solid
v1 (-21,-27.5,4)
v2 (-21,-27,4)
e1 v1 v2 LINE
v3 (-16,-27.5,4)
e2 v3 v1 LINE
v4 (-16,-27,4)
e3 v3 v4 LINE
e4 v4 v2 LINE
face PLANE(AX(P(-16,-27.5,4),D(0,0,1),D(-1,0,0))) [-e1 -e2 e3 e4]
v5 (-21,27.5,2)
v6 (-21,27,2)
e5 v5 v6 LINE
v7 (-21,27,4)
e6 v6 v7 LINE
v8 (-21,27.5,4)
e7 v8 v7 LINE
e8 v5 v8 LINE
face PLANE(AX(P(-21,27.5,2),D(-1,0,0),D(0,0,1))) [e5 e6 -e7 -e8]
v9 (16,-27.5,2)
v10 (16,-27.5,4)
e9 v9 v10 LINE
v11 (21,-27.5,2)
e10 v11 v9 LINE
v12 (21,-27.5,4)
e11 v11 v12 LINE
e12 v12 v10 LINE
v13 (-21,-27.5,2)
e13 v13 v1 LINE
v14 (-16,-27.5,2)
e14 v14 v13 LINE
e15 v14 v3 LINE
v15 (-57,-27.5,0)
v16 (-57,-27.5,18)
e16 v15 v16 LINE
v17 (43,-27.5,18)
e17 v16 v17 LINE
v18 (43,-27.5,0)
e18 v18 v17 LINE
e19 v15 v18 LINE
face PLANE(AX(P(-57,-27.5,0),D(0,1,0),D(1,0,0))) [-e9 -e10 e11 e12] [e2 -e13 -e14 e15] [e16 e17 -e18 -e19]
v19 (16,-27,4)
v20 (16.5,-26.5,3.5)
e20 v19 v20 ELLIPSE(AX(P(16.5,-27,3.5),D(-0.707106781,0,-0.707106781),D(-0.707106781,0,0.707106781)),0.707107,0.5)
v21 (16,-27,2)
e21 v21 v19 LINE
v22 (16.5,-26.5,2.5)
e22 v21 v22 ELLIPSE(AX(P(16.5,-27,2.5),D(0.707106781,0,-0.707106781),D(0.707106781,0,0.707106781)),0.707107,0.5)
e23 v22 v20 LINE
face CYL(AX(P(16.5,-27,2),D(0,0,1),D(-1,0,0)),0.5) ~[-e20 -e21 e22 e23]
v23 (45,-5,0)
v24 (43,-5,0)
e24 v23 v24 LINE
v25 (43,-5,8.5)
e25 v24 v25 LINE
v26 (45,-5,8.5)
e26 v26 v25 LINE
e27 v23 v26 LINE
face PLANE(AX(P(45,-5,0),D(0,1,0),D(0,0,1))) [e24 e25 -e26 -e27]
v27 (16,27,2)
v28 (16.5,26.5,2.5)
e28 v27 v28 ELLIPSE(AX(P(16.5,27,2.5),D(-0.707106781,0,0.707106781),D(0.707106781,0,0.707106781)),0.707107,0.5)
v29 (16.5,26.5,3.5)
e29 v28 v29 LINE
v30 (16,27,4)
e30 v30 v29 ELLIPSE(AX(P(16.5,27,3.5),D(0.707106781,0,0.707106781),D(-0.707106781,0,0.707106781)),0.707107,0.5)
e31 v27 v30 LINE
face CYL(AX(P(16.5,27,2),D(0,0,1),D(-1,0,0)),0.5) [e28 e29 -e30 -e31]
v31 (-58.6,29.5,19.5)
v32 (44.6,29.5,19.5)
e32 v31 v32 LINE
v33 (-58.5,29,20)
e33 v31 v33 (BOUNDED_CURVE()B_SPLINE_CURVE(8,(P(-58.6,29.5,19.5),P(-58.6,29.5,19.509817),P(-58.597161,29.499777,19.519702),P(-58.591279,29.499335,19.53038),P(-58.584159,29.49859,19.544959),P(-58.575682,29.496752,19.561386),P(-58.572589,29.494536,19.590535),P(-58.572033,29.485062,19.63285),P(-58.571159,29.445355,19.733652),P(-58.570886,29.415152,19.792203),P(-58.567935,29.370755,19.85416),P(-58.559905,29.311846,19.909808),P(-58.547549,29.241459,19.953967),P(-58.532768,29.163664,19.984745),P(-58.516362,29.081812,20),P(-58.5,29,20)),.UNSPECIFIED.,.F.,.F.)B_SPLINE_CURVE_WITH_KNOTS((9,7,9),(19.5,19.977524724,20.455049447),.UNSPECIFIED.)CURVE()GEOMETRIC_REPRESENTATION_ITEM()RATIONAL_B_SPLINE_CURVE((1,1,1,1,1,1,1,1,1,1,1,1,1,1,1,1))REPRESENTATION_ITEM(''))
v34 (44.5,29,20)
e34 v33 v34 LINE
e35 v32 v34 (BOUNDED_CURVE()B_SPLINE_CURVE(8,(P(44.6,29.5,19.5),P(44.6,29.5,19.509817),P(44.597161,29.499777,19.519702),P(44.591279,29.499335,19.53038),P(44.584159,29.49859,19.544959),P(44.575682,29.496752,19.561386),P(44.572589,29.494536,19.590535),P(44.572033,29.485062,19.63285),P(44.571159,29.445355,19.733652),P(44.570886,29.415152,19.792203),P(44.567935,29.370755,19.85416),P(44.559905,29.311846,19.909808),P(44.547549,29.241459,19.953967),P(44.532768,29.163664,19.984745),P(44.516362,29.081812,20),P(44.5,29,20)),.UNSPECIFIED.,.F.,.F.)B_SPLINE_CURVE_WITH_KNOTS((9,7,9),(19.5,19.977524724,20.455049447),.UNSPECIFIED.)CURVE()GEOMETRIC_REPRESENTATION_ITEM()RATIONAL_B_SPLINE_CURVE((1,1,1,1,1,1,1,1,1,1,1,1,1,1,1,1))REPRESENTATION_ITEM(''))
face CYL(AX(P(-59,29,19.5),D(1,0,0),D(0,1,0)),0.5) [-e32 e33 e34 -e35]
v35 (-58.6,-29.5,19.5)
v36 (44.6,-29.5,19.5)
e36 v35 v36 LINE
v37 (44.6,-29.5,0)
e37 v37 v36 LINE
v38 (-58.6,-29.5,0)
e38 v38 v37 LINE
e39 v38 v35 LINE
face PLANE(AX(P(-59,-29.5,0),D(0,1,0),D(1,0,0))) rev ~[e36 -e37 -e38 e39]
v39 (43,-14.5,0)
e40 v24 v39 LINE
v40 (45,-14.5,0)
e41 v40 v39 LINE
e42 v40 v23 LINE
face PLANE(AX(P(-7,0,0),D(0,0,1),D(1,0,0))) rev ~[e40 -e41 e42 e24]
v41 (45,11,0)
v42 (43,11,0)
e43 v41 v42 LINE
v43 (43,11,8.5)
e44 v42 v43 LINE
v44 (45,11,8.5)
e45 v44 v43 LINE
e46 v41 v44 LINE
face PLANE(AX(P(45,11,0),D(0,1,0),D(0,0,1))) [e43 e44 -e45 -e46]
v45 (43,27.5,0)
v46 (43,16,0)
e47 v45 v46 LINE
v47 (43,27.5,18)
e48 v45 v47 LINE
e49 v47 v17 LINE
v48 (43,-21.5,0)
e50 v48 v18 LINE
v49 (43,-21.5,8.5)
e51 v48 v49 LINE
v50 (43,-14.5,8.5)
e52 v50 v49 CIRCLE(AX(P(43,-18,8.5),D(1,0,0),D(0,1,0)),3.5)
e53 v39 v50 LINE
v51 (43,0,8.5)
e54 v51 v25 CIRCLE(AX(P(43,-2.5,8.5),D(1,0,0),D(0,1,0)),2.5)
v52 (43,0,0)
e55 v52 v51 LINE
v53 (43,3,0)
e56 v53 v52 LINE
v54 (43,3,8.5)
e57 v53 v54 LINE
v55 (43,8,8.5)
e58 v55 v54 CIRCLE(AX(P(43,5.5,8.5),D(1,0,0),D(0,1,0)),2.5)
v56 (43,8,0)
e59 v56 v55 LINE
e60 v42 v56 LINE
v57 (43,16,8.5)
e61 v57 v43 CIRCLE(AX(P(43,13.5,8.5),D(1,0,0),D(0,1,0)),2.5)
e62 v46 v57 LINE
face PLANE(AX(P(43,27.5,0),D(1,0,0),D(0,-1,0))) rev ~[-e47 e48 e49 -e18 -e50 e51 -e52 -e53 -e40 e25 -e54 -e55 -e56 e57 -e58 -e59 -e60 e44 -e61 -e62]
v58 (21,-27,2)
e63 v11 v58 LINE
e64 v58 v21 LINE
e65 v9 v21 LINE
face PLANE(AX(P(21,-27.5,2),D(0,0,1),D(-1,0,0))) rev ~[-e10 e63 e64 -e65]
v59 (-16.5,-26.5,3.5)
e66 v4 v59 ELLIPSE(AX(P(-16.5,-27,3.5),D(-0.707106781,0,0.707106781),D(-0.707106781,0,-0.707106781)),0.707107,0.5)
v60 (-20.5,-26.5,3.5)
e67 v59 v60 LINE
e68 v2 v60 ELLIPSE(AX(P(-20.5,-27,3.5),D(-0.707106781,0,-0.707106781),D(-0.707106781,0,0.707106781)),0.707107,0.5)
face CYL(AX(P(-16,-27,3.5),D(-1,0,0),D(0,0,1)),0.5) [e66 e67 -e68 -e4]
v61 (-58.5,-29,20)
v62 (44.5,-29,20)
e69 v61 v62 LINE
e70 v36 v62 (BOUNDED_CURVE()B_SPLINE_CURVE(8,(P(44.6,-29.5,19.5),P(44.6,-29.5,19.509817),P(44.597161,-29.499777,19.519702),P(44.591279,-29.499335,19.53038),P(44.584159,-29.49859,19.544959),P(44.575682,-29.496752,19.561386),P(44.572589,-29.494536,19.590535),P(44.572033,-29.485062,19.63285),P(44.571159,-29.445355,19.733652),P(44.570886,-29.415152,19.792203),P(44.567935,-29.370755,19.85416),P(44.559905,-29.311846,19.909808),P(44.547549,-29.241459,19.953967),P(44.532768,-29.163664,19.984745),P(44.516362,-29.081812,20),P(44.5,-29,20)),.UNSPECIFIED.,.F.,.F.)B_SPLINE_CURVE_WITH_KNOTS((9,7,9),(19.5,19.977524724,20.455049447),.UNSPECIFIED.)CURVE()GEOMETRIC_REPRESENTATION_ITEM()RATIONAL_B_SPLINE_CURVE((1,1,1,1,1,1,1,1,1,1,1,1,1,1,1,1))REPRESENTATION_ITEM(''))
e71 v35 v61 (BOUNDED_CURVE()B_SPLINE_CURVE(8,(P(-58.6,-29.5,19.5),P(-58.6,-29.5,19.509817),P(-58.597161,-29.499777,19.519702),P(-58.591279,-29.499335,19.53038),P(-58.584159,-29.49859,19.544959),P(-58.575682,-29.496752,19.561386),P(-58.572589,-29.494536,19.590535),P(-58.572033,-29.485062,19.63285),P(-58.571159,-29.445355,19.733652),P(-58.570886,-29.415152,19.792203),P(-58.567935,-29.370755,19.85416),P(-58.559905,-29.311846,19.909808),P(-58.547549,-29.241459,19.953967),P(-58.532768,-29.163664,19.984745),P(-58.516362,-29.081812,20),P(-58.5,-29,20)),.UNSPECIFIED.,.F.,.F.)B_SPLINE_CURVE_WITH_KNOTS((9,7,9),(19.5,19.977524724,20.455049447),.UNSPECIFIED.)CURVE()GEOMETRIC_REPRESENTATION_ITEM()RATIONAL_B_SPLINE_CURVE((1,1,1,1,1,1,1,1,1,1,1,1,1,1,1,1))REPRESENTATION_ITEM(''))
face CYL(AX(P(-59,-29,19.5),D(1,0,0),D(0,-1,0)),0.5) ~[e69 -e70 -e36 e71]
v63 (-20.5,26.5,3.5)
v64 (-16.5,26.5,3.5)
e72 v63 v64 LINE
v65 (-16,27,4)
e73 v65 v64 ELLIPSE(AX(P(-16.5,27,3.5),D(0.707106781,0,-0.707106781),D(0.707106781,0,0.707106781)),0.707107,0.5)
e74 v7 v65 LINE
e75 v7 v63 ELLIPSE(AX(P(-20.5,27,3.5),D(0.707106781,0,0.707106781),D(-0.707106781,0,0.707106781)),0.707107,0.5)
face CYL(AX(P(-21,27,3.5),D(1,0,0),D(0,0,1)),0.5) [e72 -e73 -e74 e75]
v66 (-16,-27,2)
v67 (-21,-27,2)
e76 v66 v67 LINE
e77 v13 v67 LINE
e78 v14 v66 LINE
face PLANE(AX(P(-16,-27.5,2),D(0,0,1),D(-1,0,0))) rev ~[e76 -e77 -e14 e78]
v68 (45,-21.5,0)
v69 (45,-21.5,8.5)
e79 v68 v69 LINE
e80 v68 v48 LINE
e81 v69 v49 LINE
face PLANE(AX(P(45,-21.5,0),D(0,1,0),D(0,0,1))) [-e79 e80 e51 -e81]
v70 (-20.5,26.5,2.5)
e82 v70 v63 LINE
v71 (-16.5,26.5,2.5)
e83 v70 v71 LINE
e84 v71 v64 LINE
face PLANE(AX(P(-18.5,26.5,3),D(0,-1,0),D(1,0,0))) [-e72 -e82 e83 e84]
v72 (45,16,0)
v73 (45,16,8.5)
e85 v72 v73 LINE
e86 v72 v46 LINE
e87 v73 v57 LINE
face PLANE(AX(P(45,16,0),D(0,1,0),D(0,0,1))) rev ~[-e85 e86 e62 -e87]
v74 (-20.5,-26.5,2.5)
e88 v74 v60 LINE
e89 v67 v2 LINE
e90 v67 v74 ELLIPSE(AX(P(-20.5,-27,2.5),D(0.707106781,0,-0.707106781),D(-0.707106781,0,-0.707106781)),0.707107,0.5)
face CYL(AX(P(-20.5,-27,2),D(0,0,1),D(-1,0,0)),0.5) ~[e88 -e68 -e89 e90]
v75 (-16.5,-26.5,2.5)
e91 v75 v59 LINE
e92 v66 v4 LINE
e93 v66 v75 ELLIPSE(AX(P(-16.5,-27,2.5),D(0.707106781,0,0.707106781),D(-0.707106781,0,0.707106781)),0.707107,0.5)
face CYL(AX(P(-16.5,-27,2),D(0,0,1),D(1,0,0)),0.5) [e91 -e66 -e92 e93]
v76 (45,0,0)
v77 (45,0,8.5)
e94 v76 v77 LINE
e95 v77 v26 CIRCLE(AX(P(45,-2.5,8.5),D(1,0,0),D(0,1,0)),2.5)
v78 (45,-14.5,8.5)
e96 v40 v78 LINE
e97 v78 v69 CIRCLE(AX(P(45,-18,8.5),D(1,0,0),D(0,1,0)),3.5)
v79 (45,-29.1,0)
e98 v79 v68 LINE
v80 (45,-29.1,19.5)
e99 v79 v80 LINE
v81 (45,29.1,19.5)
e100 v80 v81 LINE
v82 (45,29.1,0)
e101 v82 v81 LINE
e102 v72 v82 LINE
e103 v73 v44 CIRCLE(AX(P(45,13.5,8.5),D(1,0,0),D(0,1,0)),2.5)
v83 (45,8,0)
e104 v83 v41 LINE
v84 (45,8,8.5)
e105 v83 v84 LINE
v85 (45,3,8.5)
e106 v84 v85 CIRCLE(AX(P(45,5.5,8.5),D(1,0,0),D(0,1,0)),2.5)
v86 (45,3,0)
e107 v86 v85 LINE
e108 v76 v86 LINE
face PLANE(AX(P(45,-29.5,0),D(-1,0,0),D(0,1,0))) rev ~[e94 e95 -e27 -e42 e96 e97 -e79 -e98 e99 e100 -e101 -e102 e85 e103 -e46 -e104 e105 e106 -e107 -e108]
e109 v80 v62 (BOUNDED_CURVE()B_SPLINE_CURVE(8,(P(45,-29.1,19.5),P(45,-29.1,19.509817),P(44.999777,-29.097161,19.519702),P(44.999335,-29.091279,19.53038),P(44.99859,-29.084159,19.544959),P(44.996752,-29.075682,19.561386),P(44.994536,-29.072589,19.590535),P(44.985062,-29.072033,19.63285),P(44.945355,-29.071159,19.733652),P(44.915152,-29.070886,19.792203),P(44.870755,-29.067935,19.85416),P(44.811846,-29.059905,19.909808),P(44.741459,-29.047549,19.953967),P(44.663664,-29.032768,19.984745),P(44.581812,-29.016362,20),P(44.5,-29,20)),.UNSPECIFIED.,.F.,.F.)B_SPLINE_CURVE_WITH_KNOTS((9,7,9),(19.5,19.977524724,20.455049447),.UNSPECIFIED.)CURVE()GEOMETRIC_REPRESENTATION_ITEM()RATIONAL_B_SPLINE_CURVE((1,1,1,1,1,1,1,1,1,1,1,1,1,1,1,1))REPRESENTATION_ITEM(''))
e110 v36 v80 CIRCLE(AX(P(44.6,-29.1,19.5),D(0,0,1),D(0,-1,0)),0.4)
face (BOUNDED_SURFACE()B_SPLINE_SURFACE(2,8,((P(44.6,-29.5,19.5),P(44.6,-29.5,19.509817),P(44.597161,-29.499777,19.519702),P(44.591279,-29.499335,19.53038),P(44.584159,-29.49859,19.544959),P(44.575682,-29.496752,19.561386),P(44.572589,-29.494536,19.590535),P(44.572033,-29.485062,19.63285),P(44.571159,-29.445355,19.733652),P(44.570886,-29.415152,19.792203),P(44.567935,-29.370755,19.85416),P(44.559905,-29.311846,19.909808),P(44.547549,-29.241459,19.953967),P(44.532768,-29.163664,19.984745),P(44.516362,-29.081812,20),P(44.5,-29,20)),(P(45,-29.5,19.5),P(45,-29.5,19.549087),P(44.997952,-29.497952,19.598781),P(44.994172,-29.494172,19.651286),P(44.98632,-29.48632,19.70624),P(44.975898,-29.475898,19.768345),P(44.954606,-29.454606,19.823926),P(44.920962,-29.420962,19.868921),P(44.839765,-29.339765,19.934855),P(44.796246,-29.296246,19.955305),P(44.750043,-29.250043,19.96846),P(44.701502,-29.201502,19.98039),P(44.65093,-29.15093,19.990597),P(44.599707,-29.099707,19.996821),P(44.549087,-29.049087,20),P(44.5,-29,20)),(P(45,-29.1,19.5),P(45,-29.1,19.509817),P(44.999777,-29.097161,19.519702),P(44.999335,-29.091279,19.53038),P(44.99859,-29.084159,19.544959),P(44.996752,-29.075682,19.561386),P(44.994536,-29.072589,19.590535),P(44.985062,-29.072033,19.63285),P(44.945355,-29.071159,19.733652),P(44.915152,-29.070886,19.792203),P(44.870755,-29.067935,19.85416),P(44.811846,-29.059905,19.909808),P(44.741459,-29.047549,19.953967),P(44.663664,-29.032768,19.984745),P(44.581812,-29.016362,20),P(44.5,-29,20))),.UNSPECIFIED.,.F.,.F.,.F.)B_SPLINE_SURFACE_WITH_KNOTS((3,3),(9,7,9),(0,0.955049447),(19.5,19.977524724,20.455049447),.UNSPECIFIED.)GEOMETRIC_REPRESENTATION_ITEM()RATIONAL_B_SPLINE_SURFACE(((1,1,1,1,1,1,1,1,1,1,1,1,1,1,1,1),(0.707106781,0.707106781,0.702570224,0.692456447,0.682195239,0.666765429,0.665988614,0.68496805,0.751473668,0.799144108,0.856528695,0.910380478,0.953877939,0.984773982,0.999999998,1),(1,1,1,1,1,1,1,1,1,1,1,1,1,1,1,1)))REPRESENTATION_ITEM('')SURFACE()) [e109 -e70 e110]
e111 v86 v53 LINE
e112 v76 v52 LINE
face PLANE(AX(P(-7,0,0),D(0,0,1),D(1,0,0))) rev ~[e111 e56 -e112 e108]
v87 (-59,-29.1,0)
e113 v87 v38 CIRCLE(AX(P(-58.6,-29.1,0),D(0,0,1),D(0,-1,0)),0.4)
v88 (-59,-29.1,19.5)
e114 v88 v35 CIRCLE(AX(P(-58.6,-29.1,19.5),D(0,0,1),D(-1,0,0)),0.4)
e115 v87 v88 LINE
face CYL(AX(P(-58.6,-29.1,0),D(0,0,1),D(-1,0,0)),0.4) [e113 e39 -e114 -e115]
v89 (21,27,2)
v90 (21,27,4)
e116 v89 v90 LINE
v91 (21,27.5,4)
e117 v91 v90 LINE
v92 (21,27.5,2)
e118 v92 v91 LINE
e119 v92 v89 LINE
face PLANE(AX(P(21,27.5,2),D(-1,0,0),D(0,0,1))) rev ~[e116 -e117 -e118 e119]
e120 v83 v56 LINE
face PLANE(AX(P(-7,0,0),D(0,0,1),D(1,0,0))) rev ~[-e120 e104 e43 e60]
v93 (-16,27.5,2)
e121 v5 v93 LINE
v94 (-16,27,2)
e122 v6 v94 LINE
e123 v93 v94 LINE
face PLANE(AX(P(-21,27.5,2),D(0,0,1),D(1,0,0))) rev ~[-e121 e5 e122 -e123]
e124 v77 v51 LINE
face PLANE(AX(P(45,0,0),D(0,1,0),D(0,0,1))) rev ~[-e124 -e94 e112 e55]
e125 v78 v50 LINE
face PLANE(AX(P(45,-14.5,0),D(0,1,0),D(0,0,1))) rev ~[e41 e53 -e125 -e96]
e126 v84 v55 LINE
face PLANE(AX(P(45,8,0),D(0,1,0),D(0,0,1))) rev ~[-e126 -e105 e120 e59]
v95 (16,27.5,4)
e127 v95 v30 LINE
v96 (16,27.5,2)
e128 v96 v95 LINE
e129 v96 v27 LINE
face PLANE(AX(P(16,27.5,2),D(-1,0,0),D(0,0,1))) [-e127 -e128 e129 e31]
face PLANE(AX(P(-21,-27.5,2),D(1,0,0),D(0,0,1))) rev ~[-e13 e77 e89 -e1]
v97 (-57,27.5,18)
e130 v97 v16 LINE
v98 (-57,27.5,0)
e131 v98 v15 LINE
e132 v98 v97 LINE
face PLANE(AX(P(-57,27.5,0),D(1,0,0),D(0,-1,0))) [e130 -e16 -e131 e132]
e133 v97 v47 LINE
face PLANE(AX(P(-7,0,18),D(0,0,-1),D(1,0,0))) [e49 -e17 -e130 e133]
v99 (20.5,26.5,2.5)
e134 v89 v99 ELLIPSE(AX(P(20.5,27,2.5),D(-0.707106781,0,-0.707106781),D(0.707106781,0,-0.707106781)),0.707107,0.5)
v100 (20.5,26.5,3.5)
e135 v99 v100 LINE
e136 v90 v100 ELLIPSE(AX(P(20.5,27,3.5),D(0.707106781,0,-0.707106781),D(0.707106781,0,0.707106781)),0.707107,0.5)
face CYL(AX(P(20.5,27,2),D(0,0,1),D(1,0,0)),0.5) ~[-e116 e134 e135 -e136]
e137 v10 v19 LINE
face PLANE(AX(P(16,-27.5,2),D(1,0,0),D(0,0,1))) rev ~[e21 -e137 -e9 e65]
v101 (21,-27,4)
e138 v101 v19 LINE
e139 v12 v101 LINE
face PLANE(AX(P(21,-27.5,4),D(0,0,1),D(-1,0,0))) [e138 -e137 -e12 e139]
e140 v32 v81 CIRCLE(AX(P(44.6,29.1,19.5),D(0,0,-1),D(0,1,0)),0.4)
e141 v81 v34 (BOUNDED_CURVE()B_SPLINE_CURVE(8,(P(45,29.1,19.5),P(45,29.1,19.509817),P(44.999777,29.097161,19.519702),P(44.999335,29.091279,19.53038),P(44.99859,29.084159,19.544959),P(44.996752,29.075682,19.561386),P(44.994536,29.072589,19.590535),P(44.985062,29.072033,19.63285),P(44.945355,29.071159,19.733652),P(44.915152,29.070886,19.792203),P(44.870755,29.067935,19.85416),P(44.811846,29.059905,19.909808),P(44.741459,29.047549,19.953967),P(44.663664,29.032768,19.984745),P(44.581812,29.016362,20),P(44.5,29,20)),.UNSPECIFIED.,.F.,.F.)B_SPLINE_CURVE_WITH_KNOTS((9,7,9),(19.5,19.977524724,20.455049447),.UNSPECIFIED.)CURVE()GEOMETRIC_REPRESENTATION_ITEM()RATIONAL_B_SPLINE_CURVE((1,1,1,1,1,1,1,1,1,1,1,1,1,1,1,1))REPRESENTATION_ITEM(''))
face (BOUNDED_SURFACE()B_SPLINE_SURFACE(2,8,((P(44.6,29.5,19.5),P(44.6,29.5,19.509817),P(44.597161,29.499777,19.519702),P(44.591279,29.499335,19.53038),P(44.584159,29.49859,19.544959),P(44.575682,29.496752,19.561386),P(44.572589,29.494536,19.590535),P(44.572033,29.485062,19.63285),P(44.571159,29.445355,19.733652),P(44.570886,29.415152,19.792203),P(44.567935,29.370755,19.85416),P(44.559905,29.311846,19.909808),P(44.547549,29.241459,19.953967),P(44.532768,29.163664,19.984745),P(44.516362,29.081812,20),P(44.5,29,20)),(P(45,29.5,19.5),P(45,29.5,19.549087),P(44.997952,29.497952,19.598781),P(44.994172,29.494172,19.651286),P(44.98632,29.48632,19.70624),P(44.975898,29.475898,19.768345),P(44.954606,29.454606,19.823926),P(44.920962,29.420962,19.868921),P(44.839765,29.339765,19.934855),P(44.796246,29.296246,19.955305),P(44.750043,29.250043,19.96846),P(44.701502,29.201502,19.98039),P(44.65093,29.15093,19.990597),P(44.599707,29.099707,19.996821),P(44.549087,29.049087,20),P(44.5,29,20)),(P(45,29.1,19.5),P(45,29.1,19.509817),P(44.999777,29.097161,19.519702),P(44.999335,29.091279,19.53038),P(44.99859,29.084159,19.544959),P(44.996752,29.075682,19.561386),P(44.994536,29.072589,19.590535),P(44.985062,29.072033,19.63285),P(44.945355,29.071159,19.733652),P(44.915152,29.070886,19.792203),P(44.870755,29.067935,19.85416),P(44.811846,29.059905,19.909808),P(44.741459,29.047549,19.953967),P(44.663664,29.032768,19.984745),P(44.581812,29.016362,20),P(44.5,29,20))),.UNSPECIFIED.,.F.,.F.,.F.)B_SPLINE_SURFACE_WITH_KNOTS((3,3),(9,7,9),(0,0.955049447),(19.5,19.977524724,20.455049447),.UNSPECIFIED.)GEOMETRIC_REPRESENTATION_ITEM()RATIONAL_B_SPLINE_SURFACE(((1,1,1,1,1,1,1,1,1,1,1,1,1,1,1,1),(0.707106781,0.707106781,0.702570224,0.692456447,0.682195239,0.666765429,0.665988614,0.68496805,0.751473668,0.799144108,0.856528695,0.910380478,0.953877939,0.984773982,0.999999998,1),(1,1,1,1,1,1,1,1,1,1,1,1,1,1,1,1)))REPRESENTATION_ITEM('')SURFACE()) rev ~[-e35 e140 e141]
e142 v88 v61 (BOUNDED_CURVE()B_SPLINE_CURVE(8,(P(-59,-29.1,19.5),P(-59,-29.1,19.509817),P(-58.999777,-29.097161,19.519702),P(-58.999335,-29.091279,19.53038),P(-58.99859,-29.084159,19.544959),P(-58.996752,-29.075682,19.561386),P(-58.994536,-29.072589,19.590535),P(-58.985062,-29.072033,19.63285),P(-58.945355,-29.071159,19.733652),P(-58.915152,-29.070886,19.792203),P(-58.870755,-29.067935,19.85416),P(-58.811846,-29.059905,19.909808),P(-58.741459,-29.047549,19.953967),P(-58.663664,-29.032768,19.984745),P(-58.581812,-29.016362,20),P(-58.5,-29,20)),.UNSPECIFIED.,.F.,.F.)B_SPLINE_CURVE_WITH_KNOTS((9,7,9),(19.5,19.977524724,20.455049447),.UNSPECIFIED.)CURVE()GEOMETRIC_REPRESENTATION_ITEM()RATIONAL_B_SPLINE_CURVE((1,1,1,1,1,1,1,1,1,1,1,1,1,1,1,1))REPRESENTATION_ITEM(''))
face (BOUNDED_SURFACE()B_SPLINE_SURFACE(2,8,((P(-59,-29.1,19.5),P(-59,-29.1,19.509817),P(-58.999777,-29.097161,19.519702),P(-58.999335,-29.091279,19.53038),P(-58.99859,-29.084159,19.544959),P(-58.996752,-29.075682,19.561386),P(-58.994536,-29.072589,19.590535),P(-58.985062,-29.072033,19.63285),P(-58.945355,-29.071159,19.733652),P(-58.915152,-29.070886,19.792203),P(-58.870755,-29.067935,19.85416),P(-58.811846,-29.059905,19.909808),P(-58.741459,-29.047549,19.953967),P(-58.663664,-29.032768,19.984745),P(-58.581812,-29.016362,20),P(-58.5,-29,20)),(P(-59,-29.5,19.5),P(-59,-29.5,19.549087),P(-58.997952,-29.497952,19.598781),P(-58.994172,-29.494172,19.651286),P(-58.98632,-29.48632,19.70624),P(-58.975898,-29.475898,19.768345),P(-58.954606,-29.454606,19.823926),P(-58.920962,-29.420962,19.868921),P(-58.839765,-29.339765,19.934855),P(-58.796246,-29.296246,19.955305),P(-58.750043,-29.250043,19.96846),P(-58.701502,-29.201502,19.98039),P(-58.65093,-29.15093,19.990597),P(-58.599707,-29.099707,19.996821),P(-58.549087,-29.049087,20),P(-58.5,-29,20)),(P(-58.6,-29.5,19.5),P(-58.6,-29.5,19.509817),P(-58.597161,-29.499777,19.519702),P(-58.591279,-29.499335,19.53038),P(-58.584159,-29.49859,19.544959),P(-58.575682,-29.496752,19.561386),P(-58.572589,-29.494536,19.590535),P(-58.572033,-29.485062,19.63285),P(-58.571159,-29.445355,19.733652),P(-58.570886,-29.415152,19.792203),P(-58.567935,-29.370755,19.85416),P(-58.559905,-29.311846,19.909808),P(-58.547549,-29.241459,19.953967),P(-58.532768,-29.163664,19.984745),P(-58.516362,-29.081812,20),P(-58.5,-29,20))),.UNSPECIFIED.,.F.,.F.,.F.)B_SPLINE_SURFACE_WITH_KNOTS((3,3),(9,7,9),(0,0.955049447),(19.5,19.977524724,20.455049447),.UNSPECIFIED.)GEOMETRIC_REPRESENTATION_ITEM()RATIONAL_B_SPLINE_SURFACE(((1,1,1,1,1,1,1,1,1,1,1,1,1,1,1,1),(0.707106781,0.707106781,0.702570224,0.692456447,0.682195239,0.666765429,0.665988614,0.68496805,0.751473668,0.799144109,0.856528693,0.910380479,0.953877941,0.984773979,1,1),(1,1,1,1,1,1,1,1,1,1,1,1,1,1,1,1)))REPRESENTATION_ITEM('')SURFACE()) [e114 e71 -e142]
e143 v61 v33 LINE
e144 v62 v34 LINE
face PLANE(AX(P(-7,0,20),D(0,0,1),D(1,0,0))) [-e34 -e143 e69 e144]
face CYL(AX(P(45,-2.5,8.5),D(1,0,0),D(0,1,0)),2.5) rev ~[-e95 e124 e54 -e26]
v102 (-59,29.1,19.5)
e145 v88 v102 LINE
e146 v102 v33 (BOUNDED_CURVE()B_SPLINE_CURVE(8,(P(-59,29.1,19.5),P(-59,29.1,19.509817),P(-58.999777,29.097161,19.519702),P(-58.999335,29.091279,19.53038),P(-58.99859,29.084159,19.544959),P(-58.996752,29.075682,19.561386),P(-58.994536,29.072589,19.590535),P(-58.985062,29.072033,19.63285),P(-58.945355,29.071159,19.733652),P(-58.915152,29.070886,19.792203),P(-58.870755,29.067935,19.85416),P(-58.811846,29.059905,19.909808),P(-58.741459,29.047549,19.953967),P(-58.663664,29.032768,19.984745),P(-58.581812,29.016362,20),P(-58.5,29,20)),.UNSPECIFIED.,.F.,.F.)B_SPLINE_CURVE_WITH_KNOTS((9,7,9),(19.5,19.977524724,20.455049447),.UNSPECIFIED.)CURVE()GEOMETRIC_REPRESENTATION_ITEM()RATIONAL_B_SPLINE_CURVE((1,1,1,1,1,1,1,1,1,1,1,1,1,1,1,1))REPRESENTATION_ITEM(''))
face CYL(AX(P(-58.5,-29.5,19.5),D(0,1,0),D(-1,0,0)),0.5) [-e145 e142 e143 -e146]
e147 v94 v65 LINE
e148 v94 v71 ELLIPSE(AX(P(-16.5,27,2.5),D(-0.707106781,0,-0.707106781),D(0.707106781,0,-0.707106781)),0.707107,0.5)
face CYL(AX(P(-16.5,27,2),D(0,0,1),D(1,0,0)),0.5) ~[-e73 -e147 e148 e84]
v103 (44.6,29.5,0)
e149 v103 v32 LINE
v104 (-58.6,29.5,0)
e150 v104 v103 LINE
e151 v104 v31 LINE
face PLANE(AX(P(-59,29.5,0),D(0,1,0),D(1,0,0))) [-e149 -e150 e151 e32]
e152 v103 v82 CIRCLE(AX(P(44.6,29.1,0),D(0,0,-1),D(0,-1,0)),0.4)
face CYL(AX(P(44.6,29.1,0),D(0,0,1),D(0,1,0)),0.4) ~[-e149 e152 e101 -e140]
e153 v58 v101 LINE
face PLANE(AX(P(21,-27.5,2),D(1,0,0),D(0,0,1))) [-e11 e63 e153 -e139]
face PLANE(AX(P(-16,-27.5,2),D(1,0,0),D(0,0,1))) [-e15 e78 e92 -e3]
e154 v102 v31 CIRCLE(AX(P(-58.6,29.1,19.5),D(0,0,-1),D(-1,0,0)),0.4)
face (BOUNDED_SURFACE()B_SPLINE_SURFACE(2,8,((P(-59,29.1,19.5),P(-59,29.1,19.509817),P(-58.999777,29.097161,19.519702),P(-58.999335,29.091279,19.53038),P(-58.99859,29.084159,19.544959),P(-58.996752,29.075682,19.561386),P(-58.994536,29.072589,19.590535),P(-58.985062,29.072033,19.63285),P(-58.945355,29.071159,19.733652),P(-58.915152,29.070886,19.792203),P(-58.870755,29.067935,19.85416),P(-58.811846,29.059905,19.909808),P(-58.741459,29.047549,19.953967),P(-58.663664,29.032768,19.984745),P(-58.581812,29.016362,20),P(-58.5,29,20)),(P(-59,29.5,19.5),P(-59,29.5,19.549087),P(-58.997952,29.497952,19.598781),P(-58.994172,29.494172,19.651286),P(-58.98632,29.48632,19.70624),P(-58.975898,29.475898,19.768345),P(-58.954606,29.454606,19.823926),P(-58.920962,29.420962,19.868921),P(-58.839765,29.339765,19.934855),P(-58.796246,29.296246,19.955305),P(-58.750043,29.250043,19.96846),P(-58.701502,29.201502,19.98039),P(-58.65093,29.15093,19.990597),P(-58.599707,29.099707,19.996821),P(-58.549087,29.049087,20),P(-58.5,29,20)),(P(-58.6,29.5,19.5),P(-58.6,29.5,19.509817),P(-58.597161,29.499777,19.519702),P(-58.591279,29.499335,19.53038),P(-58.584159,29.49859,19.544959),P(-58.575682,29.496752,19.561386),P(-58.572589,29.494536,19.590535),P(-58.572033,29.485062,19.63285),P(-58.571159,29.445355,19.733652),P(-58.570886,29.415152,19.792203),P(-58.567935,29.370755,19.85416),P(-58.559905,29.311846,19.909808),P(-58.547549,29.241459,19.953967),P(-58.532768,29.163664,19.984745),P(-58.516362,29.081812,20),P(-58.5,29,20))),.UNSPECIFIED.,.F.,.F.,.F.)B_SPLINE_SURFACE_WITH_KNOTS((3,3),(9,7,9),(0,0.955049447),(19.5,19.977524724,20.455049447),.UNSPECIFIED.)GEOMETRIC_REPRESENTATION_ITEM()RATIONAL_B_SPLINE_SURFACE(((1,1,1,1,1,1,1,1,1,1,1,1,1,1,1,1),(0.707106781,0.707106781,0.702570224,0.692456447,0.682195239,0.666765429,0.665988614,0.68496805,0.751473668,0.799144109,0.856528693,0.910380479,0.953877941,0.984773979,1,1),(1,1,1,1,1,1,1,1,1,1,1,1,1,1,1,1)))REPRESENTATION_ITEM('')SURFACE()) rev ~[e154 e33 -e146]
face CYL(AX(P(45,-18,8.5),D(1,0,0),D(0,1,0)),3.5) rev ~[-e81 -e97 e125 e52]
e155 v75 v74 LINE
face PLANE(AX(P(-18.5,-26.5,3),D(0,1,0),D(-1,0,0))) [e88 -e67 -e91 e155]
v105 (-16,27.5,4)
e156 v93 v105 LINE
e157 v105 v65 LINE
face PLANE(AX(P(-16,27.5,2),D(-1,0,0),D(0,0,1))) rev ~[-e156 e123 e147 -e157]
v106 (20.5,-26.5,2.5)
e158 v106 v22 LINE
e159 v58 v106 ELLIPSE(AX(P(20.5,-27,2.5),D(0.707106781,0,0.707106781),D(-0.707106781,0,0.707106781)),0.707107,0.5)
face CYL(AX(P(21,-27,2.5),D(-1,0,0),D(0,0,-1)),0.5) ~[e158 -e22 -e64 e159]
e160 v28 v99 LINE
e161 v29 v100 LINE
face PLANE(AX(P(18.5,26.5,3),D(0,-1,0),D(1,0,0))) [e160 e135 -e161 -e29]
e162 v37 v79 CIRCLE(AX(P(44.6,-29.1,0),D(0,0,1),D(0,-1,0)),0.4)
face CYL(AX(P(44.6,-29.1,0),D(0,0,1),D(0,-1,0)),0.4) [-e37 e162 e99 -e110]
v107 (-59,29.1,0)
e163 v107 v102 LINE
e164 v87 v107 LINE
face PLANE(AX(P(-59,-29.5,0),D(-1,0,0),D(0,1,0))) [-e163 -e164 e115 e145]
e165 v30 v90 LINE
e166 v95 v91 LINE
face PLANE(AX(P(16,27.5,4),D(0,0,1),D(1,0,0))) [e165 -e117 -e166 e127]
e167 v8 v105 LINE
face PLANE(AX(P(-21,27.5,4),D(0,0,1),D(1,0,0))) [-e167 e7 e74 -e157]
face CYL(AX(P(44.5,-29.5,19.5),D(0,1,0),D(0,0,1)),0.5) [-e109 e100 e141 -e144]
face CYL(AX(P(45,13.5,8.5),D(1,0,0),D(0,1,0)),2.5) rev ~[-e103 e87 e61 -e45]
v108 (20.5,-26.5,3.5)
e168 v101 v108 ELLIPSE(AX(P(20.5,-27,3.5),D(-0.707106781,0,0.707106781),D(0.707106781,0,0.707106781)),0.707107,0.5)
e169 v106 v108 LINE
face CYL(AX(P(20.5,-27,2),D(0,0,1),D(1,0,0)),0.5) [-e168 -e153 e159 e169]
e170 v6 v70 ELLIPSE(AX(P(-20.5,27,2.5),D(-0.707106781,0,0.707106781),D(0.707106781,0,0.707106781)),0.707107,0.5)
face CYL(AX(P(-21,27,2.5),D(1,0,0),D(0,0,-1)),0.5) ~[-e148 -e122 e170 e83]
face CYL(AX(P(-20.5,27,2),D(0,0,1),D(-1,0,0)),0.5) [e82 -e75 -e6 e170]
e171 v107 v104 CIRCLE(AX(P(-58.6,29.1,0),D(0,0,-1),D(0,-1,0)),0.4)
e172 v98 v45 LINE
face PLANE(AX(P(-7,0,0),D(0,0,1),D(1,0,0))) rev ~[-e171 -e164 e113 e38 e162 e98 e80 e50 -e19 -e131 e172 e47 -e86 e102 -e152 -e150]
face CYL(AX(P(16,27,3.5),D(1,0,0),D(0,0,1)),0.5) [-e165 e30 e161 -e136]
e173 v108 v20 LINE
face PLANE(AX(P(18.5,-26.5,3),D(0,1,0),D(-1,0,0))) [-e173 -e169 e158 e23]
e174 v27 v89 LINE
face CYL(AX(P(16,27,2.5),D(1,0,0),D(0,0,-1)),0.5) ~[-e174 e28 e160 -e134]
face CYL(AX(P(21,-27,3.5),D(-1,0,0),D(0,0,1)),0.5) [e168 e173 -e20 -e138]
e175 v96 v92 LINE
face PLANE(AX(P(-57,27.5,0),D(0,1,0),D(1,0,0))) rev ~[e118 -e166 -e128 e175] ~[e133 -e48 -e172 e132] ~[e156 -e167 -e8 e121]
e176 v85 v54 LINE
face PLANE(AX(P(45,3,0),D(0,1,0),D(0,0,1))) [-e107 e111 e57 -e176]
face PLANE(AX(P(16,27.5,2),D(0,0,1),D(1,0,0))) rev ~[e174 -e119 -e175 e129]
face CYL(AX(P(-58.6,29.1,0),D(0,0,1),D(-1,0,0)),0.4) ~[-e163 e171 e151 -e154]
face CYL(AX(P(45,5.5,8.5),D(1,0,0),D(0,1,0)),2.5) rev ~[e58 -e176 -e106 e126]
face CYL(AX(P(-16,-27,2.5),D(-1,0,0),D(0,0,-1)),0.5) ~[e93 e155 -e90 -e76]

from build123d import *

# Parameters (mm, degrees)
SKETCH_W        = 104
SKETCH_H        = 59
PAD_DEPTH       = 20
SKETCH002_W     = 100
SKETCH002_H     = 55
POCKET_DEPTH    = 18
SKETCH003_W     = 5
SKETCH003_H     = 2
PAD001_DEPTH    = 1
SKETCH004_W     = 5
SKETCH004_H     = 2
PAD002_DEPTH    = 1
POCKET001_DEPTH = 2
FILLET_R        = 0.5
FILLET001_R     = 0.4
FILLET002_R     = 0.5
FILLET003_R     = 0.5


with BuildPart() as part:
    # Sketch → Pad (new body)
    with BuildSketch(Plane.XY):
        with Locations((-7, 0)):
            Rectangle(SKETCH_W, SKETCH_H)
    extrude(amount=PAD_DEPTH)

    # Sketch002 (on Face5 of Pad) → Pocket (cut)
    with BuildSketch(Plane(origin=(0, 0, 0), x_dir=(1, 0, 0), z_dir=(0, 0, -1))):
        with Locations((-7, 0)):
            Rectangle(SKETCH002_W, SKETCH002_H)
    extrude(amount=-POCKET_DEPTH, mode=Mode.SUBTRACT)

    # Sketch003 (on Face8 of Pocket) → Pad001 (join)
    with BuildSketch(Plane.XZ.offset(-27.5)):
        with Locations((-18.5, 3)):
            Rectangle(SKETCH003_W, SKETCH003_H)
        with Locations((18.5, 3)):
            Rectangle(SKETCH003_W, SKETCH003_H)
    extrude(amount=PAD001_DEPTH)

    # Sketch004 (on Face10 of Pad001) → Pad002 (join)
    with BuildSketch(Plane(origin=(0, -27.5, 0), x_dir=(-1, 0, 0), z_dir=(0, 1, 0))):
        with Locations((-18.5, 3)):
            Rectangle(SKETCH004_W, SKETCH004_H)
        with Locations((18.5, 3)):
            Rectangle(SKETCH004_W, SKETCH004_H)
    extrude(amount=PAD002_DEPTH)

    # Sketch005 (on Face3 of Pad002) → Pocket001 (cut)
    with BuildSketch(Plane.YZ.offset(45)):
        with BuildLine():
            ThreePointArc((-21.5, 0), (-18, -3.5), (-14.5, 0))
            Line((-14.5, 0), (-14.5, 8.5))
            ThreePointArc((-14.5, 8.5), (-18, 12), (-21.5, 8.5))
            Line((-21.5, 0), (-21.5, 8.5))
        make_face()
        with BuildLine():
            ThreePointArc((-5, 0), (-2.5, -2.5), (0, 0))
            Line((0, 0), (0, 8.5))
            ThreePointArc((0, 8.5), (-2.5, 11), (-5, 8.5))
            Line((-5, 0), (-5, 8.5))
        make_face()
        with BuildLine():
            ThreePointArc((3, 0), (5.5, -2.5), (8, 0))
            Line((8, 0), (8, 8.5))
            ThreePointArc((8, 8.5), (5.5, 11), (3, 8.5))
            Line((3, 0), (3, 8.5))
        make_face()
        with BuildLine():
            ThreePointArc((11, 0), (13.5, -2.5), (16, 0))
            Line((16, 0), (16, 8.5))
            ThreePointArc((16, 8.5), (13.5, 11), (11, 8.5))
            Line((11, 0), (11, 8.5))
        make_face()
    extrude(amount=-POCKET001_DEPTH, mode=Mode.SUBTRACT)

    # Fillet
    fillet_edges = [part.edges().sort_by_distance(p)[0] for p in [
        (-7, 29.5, 20),
        (-59, 0, 20),
        (-7, -29.5, 20),
        (45, 0, 20),
    ]]
    fillet(fillet_edges, radius=FILLET_R)

    # Fillet001
    fillet001_edges = [part.edges().sort_by_distance(p)[0] for p in [
        (45, 29.5, 9.75),
        (45, -29.5, 9.75),
        (-59, 29.5, 9.75),
        (-59, -29.5, 9.75),
    ]]
    fillet(fillet001_edges, radius=FILLET001_R)

    # Fillet002
    fillet002_edges = [part.edges().sort_by_distance(p)[0] for p in [
        (-18.5, -26.5, 2),
        (-21, -26.5, 3),
        (-18.5, -26.5, 4),
        (-16, -26.5, 3),
        (16, -26.5, 3),
        (18.5, -26.5, 2),
        (21, -26.5, 3),
        (18.5, -26.5, 4),
    ]]
    fillet(fillet002_edges, radius=FILLET002_R)

    # Fillet003
    fillet003_edges = [part.edges().sort_by_distance(p)[0] for p in [
        (-21, 26.5, 3),
        (-18.5, 26.5, 4),
        (-18.5, 26.5, 2),
        (-16, 26.5, 3),
        (18.5, 26.5, 2),
        (16, 26.5, 3),
        (18.5, 26.5, 4),
        (21, 26.5, 3),
    ]]
    fillet(fillet003_edges, radius=FILLET003_R)


solid = part.part
